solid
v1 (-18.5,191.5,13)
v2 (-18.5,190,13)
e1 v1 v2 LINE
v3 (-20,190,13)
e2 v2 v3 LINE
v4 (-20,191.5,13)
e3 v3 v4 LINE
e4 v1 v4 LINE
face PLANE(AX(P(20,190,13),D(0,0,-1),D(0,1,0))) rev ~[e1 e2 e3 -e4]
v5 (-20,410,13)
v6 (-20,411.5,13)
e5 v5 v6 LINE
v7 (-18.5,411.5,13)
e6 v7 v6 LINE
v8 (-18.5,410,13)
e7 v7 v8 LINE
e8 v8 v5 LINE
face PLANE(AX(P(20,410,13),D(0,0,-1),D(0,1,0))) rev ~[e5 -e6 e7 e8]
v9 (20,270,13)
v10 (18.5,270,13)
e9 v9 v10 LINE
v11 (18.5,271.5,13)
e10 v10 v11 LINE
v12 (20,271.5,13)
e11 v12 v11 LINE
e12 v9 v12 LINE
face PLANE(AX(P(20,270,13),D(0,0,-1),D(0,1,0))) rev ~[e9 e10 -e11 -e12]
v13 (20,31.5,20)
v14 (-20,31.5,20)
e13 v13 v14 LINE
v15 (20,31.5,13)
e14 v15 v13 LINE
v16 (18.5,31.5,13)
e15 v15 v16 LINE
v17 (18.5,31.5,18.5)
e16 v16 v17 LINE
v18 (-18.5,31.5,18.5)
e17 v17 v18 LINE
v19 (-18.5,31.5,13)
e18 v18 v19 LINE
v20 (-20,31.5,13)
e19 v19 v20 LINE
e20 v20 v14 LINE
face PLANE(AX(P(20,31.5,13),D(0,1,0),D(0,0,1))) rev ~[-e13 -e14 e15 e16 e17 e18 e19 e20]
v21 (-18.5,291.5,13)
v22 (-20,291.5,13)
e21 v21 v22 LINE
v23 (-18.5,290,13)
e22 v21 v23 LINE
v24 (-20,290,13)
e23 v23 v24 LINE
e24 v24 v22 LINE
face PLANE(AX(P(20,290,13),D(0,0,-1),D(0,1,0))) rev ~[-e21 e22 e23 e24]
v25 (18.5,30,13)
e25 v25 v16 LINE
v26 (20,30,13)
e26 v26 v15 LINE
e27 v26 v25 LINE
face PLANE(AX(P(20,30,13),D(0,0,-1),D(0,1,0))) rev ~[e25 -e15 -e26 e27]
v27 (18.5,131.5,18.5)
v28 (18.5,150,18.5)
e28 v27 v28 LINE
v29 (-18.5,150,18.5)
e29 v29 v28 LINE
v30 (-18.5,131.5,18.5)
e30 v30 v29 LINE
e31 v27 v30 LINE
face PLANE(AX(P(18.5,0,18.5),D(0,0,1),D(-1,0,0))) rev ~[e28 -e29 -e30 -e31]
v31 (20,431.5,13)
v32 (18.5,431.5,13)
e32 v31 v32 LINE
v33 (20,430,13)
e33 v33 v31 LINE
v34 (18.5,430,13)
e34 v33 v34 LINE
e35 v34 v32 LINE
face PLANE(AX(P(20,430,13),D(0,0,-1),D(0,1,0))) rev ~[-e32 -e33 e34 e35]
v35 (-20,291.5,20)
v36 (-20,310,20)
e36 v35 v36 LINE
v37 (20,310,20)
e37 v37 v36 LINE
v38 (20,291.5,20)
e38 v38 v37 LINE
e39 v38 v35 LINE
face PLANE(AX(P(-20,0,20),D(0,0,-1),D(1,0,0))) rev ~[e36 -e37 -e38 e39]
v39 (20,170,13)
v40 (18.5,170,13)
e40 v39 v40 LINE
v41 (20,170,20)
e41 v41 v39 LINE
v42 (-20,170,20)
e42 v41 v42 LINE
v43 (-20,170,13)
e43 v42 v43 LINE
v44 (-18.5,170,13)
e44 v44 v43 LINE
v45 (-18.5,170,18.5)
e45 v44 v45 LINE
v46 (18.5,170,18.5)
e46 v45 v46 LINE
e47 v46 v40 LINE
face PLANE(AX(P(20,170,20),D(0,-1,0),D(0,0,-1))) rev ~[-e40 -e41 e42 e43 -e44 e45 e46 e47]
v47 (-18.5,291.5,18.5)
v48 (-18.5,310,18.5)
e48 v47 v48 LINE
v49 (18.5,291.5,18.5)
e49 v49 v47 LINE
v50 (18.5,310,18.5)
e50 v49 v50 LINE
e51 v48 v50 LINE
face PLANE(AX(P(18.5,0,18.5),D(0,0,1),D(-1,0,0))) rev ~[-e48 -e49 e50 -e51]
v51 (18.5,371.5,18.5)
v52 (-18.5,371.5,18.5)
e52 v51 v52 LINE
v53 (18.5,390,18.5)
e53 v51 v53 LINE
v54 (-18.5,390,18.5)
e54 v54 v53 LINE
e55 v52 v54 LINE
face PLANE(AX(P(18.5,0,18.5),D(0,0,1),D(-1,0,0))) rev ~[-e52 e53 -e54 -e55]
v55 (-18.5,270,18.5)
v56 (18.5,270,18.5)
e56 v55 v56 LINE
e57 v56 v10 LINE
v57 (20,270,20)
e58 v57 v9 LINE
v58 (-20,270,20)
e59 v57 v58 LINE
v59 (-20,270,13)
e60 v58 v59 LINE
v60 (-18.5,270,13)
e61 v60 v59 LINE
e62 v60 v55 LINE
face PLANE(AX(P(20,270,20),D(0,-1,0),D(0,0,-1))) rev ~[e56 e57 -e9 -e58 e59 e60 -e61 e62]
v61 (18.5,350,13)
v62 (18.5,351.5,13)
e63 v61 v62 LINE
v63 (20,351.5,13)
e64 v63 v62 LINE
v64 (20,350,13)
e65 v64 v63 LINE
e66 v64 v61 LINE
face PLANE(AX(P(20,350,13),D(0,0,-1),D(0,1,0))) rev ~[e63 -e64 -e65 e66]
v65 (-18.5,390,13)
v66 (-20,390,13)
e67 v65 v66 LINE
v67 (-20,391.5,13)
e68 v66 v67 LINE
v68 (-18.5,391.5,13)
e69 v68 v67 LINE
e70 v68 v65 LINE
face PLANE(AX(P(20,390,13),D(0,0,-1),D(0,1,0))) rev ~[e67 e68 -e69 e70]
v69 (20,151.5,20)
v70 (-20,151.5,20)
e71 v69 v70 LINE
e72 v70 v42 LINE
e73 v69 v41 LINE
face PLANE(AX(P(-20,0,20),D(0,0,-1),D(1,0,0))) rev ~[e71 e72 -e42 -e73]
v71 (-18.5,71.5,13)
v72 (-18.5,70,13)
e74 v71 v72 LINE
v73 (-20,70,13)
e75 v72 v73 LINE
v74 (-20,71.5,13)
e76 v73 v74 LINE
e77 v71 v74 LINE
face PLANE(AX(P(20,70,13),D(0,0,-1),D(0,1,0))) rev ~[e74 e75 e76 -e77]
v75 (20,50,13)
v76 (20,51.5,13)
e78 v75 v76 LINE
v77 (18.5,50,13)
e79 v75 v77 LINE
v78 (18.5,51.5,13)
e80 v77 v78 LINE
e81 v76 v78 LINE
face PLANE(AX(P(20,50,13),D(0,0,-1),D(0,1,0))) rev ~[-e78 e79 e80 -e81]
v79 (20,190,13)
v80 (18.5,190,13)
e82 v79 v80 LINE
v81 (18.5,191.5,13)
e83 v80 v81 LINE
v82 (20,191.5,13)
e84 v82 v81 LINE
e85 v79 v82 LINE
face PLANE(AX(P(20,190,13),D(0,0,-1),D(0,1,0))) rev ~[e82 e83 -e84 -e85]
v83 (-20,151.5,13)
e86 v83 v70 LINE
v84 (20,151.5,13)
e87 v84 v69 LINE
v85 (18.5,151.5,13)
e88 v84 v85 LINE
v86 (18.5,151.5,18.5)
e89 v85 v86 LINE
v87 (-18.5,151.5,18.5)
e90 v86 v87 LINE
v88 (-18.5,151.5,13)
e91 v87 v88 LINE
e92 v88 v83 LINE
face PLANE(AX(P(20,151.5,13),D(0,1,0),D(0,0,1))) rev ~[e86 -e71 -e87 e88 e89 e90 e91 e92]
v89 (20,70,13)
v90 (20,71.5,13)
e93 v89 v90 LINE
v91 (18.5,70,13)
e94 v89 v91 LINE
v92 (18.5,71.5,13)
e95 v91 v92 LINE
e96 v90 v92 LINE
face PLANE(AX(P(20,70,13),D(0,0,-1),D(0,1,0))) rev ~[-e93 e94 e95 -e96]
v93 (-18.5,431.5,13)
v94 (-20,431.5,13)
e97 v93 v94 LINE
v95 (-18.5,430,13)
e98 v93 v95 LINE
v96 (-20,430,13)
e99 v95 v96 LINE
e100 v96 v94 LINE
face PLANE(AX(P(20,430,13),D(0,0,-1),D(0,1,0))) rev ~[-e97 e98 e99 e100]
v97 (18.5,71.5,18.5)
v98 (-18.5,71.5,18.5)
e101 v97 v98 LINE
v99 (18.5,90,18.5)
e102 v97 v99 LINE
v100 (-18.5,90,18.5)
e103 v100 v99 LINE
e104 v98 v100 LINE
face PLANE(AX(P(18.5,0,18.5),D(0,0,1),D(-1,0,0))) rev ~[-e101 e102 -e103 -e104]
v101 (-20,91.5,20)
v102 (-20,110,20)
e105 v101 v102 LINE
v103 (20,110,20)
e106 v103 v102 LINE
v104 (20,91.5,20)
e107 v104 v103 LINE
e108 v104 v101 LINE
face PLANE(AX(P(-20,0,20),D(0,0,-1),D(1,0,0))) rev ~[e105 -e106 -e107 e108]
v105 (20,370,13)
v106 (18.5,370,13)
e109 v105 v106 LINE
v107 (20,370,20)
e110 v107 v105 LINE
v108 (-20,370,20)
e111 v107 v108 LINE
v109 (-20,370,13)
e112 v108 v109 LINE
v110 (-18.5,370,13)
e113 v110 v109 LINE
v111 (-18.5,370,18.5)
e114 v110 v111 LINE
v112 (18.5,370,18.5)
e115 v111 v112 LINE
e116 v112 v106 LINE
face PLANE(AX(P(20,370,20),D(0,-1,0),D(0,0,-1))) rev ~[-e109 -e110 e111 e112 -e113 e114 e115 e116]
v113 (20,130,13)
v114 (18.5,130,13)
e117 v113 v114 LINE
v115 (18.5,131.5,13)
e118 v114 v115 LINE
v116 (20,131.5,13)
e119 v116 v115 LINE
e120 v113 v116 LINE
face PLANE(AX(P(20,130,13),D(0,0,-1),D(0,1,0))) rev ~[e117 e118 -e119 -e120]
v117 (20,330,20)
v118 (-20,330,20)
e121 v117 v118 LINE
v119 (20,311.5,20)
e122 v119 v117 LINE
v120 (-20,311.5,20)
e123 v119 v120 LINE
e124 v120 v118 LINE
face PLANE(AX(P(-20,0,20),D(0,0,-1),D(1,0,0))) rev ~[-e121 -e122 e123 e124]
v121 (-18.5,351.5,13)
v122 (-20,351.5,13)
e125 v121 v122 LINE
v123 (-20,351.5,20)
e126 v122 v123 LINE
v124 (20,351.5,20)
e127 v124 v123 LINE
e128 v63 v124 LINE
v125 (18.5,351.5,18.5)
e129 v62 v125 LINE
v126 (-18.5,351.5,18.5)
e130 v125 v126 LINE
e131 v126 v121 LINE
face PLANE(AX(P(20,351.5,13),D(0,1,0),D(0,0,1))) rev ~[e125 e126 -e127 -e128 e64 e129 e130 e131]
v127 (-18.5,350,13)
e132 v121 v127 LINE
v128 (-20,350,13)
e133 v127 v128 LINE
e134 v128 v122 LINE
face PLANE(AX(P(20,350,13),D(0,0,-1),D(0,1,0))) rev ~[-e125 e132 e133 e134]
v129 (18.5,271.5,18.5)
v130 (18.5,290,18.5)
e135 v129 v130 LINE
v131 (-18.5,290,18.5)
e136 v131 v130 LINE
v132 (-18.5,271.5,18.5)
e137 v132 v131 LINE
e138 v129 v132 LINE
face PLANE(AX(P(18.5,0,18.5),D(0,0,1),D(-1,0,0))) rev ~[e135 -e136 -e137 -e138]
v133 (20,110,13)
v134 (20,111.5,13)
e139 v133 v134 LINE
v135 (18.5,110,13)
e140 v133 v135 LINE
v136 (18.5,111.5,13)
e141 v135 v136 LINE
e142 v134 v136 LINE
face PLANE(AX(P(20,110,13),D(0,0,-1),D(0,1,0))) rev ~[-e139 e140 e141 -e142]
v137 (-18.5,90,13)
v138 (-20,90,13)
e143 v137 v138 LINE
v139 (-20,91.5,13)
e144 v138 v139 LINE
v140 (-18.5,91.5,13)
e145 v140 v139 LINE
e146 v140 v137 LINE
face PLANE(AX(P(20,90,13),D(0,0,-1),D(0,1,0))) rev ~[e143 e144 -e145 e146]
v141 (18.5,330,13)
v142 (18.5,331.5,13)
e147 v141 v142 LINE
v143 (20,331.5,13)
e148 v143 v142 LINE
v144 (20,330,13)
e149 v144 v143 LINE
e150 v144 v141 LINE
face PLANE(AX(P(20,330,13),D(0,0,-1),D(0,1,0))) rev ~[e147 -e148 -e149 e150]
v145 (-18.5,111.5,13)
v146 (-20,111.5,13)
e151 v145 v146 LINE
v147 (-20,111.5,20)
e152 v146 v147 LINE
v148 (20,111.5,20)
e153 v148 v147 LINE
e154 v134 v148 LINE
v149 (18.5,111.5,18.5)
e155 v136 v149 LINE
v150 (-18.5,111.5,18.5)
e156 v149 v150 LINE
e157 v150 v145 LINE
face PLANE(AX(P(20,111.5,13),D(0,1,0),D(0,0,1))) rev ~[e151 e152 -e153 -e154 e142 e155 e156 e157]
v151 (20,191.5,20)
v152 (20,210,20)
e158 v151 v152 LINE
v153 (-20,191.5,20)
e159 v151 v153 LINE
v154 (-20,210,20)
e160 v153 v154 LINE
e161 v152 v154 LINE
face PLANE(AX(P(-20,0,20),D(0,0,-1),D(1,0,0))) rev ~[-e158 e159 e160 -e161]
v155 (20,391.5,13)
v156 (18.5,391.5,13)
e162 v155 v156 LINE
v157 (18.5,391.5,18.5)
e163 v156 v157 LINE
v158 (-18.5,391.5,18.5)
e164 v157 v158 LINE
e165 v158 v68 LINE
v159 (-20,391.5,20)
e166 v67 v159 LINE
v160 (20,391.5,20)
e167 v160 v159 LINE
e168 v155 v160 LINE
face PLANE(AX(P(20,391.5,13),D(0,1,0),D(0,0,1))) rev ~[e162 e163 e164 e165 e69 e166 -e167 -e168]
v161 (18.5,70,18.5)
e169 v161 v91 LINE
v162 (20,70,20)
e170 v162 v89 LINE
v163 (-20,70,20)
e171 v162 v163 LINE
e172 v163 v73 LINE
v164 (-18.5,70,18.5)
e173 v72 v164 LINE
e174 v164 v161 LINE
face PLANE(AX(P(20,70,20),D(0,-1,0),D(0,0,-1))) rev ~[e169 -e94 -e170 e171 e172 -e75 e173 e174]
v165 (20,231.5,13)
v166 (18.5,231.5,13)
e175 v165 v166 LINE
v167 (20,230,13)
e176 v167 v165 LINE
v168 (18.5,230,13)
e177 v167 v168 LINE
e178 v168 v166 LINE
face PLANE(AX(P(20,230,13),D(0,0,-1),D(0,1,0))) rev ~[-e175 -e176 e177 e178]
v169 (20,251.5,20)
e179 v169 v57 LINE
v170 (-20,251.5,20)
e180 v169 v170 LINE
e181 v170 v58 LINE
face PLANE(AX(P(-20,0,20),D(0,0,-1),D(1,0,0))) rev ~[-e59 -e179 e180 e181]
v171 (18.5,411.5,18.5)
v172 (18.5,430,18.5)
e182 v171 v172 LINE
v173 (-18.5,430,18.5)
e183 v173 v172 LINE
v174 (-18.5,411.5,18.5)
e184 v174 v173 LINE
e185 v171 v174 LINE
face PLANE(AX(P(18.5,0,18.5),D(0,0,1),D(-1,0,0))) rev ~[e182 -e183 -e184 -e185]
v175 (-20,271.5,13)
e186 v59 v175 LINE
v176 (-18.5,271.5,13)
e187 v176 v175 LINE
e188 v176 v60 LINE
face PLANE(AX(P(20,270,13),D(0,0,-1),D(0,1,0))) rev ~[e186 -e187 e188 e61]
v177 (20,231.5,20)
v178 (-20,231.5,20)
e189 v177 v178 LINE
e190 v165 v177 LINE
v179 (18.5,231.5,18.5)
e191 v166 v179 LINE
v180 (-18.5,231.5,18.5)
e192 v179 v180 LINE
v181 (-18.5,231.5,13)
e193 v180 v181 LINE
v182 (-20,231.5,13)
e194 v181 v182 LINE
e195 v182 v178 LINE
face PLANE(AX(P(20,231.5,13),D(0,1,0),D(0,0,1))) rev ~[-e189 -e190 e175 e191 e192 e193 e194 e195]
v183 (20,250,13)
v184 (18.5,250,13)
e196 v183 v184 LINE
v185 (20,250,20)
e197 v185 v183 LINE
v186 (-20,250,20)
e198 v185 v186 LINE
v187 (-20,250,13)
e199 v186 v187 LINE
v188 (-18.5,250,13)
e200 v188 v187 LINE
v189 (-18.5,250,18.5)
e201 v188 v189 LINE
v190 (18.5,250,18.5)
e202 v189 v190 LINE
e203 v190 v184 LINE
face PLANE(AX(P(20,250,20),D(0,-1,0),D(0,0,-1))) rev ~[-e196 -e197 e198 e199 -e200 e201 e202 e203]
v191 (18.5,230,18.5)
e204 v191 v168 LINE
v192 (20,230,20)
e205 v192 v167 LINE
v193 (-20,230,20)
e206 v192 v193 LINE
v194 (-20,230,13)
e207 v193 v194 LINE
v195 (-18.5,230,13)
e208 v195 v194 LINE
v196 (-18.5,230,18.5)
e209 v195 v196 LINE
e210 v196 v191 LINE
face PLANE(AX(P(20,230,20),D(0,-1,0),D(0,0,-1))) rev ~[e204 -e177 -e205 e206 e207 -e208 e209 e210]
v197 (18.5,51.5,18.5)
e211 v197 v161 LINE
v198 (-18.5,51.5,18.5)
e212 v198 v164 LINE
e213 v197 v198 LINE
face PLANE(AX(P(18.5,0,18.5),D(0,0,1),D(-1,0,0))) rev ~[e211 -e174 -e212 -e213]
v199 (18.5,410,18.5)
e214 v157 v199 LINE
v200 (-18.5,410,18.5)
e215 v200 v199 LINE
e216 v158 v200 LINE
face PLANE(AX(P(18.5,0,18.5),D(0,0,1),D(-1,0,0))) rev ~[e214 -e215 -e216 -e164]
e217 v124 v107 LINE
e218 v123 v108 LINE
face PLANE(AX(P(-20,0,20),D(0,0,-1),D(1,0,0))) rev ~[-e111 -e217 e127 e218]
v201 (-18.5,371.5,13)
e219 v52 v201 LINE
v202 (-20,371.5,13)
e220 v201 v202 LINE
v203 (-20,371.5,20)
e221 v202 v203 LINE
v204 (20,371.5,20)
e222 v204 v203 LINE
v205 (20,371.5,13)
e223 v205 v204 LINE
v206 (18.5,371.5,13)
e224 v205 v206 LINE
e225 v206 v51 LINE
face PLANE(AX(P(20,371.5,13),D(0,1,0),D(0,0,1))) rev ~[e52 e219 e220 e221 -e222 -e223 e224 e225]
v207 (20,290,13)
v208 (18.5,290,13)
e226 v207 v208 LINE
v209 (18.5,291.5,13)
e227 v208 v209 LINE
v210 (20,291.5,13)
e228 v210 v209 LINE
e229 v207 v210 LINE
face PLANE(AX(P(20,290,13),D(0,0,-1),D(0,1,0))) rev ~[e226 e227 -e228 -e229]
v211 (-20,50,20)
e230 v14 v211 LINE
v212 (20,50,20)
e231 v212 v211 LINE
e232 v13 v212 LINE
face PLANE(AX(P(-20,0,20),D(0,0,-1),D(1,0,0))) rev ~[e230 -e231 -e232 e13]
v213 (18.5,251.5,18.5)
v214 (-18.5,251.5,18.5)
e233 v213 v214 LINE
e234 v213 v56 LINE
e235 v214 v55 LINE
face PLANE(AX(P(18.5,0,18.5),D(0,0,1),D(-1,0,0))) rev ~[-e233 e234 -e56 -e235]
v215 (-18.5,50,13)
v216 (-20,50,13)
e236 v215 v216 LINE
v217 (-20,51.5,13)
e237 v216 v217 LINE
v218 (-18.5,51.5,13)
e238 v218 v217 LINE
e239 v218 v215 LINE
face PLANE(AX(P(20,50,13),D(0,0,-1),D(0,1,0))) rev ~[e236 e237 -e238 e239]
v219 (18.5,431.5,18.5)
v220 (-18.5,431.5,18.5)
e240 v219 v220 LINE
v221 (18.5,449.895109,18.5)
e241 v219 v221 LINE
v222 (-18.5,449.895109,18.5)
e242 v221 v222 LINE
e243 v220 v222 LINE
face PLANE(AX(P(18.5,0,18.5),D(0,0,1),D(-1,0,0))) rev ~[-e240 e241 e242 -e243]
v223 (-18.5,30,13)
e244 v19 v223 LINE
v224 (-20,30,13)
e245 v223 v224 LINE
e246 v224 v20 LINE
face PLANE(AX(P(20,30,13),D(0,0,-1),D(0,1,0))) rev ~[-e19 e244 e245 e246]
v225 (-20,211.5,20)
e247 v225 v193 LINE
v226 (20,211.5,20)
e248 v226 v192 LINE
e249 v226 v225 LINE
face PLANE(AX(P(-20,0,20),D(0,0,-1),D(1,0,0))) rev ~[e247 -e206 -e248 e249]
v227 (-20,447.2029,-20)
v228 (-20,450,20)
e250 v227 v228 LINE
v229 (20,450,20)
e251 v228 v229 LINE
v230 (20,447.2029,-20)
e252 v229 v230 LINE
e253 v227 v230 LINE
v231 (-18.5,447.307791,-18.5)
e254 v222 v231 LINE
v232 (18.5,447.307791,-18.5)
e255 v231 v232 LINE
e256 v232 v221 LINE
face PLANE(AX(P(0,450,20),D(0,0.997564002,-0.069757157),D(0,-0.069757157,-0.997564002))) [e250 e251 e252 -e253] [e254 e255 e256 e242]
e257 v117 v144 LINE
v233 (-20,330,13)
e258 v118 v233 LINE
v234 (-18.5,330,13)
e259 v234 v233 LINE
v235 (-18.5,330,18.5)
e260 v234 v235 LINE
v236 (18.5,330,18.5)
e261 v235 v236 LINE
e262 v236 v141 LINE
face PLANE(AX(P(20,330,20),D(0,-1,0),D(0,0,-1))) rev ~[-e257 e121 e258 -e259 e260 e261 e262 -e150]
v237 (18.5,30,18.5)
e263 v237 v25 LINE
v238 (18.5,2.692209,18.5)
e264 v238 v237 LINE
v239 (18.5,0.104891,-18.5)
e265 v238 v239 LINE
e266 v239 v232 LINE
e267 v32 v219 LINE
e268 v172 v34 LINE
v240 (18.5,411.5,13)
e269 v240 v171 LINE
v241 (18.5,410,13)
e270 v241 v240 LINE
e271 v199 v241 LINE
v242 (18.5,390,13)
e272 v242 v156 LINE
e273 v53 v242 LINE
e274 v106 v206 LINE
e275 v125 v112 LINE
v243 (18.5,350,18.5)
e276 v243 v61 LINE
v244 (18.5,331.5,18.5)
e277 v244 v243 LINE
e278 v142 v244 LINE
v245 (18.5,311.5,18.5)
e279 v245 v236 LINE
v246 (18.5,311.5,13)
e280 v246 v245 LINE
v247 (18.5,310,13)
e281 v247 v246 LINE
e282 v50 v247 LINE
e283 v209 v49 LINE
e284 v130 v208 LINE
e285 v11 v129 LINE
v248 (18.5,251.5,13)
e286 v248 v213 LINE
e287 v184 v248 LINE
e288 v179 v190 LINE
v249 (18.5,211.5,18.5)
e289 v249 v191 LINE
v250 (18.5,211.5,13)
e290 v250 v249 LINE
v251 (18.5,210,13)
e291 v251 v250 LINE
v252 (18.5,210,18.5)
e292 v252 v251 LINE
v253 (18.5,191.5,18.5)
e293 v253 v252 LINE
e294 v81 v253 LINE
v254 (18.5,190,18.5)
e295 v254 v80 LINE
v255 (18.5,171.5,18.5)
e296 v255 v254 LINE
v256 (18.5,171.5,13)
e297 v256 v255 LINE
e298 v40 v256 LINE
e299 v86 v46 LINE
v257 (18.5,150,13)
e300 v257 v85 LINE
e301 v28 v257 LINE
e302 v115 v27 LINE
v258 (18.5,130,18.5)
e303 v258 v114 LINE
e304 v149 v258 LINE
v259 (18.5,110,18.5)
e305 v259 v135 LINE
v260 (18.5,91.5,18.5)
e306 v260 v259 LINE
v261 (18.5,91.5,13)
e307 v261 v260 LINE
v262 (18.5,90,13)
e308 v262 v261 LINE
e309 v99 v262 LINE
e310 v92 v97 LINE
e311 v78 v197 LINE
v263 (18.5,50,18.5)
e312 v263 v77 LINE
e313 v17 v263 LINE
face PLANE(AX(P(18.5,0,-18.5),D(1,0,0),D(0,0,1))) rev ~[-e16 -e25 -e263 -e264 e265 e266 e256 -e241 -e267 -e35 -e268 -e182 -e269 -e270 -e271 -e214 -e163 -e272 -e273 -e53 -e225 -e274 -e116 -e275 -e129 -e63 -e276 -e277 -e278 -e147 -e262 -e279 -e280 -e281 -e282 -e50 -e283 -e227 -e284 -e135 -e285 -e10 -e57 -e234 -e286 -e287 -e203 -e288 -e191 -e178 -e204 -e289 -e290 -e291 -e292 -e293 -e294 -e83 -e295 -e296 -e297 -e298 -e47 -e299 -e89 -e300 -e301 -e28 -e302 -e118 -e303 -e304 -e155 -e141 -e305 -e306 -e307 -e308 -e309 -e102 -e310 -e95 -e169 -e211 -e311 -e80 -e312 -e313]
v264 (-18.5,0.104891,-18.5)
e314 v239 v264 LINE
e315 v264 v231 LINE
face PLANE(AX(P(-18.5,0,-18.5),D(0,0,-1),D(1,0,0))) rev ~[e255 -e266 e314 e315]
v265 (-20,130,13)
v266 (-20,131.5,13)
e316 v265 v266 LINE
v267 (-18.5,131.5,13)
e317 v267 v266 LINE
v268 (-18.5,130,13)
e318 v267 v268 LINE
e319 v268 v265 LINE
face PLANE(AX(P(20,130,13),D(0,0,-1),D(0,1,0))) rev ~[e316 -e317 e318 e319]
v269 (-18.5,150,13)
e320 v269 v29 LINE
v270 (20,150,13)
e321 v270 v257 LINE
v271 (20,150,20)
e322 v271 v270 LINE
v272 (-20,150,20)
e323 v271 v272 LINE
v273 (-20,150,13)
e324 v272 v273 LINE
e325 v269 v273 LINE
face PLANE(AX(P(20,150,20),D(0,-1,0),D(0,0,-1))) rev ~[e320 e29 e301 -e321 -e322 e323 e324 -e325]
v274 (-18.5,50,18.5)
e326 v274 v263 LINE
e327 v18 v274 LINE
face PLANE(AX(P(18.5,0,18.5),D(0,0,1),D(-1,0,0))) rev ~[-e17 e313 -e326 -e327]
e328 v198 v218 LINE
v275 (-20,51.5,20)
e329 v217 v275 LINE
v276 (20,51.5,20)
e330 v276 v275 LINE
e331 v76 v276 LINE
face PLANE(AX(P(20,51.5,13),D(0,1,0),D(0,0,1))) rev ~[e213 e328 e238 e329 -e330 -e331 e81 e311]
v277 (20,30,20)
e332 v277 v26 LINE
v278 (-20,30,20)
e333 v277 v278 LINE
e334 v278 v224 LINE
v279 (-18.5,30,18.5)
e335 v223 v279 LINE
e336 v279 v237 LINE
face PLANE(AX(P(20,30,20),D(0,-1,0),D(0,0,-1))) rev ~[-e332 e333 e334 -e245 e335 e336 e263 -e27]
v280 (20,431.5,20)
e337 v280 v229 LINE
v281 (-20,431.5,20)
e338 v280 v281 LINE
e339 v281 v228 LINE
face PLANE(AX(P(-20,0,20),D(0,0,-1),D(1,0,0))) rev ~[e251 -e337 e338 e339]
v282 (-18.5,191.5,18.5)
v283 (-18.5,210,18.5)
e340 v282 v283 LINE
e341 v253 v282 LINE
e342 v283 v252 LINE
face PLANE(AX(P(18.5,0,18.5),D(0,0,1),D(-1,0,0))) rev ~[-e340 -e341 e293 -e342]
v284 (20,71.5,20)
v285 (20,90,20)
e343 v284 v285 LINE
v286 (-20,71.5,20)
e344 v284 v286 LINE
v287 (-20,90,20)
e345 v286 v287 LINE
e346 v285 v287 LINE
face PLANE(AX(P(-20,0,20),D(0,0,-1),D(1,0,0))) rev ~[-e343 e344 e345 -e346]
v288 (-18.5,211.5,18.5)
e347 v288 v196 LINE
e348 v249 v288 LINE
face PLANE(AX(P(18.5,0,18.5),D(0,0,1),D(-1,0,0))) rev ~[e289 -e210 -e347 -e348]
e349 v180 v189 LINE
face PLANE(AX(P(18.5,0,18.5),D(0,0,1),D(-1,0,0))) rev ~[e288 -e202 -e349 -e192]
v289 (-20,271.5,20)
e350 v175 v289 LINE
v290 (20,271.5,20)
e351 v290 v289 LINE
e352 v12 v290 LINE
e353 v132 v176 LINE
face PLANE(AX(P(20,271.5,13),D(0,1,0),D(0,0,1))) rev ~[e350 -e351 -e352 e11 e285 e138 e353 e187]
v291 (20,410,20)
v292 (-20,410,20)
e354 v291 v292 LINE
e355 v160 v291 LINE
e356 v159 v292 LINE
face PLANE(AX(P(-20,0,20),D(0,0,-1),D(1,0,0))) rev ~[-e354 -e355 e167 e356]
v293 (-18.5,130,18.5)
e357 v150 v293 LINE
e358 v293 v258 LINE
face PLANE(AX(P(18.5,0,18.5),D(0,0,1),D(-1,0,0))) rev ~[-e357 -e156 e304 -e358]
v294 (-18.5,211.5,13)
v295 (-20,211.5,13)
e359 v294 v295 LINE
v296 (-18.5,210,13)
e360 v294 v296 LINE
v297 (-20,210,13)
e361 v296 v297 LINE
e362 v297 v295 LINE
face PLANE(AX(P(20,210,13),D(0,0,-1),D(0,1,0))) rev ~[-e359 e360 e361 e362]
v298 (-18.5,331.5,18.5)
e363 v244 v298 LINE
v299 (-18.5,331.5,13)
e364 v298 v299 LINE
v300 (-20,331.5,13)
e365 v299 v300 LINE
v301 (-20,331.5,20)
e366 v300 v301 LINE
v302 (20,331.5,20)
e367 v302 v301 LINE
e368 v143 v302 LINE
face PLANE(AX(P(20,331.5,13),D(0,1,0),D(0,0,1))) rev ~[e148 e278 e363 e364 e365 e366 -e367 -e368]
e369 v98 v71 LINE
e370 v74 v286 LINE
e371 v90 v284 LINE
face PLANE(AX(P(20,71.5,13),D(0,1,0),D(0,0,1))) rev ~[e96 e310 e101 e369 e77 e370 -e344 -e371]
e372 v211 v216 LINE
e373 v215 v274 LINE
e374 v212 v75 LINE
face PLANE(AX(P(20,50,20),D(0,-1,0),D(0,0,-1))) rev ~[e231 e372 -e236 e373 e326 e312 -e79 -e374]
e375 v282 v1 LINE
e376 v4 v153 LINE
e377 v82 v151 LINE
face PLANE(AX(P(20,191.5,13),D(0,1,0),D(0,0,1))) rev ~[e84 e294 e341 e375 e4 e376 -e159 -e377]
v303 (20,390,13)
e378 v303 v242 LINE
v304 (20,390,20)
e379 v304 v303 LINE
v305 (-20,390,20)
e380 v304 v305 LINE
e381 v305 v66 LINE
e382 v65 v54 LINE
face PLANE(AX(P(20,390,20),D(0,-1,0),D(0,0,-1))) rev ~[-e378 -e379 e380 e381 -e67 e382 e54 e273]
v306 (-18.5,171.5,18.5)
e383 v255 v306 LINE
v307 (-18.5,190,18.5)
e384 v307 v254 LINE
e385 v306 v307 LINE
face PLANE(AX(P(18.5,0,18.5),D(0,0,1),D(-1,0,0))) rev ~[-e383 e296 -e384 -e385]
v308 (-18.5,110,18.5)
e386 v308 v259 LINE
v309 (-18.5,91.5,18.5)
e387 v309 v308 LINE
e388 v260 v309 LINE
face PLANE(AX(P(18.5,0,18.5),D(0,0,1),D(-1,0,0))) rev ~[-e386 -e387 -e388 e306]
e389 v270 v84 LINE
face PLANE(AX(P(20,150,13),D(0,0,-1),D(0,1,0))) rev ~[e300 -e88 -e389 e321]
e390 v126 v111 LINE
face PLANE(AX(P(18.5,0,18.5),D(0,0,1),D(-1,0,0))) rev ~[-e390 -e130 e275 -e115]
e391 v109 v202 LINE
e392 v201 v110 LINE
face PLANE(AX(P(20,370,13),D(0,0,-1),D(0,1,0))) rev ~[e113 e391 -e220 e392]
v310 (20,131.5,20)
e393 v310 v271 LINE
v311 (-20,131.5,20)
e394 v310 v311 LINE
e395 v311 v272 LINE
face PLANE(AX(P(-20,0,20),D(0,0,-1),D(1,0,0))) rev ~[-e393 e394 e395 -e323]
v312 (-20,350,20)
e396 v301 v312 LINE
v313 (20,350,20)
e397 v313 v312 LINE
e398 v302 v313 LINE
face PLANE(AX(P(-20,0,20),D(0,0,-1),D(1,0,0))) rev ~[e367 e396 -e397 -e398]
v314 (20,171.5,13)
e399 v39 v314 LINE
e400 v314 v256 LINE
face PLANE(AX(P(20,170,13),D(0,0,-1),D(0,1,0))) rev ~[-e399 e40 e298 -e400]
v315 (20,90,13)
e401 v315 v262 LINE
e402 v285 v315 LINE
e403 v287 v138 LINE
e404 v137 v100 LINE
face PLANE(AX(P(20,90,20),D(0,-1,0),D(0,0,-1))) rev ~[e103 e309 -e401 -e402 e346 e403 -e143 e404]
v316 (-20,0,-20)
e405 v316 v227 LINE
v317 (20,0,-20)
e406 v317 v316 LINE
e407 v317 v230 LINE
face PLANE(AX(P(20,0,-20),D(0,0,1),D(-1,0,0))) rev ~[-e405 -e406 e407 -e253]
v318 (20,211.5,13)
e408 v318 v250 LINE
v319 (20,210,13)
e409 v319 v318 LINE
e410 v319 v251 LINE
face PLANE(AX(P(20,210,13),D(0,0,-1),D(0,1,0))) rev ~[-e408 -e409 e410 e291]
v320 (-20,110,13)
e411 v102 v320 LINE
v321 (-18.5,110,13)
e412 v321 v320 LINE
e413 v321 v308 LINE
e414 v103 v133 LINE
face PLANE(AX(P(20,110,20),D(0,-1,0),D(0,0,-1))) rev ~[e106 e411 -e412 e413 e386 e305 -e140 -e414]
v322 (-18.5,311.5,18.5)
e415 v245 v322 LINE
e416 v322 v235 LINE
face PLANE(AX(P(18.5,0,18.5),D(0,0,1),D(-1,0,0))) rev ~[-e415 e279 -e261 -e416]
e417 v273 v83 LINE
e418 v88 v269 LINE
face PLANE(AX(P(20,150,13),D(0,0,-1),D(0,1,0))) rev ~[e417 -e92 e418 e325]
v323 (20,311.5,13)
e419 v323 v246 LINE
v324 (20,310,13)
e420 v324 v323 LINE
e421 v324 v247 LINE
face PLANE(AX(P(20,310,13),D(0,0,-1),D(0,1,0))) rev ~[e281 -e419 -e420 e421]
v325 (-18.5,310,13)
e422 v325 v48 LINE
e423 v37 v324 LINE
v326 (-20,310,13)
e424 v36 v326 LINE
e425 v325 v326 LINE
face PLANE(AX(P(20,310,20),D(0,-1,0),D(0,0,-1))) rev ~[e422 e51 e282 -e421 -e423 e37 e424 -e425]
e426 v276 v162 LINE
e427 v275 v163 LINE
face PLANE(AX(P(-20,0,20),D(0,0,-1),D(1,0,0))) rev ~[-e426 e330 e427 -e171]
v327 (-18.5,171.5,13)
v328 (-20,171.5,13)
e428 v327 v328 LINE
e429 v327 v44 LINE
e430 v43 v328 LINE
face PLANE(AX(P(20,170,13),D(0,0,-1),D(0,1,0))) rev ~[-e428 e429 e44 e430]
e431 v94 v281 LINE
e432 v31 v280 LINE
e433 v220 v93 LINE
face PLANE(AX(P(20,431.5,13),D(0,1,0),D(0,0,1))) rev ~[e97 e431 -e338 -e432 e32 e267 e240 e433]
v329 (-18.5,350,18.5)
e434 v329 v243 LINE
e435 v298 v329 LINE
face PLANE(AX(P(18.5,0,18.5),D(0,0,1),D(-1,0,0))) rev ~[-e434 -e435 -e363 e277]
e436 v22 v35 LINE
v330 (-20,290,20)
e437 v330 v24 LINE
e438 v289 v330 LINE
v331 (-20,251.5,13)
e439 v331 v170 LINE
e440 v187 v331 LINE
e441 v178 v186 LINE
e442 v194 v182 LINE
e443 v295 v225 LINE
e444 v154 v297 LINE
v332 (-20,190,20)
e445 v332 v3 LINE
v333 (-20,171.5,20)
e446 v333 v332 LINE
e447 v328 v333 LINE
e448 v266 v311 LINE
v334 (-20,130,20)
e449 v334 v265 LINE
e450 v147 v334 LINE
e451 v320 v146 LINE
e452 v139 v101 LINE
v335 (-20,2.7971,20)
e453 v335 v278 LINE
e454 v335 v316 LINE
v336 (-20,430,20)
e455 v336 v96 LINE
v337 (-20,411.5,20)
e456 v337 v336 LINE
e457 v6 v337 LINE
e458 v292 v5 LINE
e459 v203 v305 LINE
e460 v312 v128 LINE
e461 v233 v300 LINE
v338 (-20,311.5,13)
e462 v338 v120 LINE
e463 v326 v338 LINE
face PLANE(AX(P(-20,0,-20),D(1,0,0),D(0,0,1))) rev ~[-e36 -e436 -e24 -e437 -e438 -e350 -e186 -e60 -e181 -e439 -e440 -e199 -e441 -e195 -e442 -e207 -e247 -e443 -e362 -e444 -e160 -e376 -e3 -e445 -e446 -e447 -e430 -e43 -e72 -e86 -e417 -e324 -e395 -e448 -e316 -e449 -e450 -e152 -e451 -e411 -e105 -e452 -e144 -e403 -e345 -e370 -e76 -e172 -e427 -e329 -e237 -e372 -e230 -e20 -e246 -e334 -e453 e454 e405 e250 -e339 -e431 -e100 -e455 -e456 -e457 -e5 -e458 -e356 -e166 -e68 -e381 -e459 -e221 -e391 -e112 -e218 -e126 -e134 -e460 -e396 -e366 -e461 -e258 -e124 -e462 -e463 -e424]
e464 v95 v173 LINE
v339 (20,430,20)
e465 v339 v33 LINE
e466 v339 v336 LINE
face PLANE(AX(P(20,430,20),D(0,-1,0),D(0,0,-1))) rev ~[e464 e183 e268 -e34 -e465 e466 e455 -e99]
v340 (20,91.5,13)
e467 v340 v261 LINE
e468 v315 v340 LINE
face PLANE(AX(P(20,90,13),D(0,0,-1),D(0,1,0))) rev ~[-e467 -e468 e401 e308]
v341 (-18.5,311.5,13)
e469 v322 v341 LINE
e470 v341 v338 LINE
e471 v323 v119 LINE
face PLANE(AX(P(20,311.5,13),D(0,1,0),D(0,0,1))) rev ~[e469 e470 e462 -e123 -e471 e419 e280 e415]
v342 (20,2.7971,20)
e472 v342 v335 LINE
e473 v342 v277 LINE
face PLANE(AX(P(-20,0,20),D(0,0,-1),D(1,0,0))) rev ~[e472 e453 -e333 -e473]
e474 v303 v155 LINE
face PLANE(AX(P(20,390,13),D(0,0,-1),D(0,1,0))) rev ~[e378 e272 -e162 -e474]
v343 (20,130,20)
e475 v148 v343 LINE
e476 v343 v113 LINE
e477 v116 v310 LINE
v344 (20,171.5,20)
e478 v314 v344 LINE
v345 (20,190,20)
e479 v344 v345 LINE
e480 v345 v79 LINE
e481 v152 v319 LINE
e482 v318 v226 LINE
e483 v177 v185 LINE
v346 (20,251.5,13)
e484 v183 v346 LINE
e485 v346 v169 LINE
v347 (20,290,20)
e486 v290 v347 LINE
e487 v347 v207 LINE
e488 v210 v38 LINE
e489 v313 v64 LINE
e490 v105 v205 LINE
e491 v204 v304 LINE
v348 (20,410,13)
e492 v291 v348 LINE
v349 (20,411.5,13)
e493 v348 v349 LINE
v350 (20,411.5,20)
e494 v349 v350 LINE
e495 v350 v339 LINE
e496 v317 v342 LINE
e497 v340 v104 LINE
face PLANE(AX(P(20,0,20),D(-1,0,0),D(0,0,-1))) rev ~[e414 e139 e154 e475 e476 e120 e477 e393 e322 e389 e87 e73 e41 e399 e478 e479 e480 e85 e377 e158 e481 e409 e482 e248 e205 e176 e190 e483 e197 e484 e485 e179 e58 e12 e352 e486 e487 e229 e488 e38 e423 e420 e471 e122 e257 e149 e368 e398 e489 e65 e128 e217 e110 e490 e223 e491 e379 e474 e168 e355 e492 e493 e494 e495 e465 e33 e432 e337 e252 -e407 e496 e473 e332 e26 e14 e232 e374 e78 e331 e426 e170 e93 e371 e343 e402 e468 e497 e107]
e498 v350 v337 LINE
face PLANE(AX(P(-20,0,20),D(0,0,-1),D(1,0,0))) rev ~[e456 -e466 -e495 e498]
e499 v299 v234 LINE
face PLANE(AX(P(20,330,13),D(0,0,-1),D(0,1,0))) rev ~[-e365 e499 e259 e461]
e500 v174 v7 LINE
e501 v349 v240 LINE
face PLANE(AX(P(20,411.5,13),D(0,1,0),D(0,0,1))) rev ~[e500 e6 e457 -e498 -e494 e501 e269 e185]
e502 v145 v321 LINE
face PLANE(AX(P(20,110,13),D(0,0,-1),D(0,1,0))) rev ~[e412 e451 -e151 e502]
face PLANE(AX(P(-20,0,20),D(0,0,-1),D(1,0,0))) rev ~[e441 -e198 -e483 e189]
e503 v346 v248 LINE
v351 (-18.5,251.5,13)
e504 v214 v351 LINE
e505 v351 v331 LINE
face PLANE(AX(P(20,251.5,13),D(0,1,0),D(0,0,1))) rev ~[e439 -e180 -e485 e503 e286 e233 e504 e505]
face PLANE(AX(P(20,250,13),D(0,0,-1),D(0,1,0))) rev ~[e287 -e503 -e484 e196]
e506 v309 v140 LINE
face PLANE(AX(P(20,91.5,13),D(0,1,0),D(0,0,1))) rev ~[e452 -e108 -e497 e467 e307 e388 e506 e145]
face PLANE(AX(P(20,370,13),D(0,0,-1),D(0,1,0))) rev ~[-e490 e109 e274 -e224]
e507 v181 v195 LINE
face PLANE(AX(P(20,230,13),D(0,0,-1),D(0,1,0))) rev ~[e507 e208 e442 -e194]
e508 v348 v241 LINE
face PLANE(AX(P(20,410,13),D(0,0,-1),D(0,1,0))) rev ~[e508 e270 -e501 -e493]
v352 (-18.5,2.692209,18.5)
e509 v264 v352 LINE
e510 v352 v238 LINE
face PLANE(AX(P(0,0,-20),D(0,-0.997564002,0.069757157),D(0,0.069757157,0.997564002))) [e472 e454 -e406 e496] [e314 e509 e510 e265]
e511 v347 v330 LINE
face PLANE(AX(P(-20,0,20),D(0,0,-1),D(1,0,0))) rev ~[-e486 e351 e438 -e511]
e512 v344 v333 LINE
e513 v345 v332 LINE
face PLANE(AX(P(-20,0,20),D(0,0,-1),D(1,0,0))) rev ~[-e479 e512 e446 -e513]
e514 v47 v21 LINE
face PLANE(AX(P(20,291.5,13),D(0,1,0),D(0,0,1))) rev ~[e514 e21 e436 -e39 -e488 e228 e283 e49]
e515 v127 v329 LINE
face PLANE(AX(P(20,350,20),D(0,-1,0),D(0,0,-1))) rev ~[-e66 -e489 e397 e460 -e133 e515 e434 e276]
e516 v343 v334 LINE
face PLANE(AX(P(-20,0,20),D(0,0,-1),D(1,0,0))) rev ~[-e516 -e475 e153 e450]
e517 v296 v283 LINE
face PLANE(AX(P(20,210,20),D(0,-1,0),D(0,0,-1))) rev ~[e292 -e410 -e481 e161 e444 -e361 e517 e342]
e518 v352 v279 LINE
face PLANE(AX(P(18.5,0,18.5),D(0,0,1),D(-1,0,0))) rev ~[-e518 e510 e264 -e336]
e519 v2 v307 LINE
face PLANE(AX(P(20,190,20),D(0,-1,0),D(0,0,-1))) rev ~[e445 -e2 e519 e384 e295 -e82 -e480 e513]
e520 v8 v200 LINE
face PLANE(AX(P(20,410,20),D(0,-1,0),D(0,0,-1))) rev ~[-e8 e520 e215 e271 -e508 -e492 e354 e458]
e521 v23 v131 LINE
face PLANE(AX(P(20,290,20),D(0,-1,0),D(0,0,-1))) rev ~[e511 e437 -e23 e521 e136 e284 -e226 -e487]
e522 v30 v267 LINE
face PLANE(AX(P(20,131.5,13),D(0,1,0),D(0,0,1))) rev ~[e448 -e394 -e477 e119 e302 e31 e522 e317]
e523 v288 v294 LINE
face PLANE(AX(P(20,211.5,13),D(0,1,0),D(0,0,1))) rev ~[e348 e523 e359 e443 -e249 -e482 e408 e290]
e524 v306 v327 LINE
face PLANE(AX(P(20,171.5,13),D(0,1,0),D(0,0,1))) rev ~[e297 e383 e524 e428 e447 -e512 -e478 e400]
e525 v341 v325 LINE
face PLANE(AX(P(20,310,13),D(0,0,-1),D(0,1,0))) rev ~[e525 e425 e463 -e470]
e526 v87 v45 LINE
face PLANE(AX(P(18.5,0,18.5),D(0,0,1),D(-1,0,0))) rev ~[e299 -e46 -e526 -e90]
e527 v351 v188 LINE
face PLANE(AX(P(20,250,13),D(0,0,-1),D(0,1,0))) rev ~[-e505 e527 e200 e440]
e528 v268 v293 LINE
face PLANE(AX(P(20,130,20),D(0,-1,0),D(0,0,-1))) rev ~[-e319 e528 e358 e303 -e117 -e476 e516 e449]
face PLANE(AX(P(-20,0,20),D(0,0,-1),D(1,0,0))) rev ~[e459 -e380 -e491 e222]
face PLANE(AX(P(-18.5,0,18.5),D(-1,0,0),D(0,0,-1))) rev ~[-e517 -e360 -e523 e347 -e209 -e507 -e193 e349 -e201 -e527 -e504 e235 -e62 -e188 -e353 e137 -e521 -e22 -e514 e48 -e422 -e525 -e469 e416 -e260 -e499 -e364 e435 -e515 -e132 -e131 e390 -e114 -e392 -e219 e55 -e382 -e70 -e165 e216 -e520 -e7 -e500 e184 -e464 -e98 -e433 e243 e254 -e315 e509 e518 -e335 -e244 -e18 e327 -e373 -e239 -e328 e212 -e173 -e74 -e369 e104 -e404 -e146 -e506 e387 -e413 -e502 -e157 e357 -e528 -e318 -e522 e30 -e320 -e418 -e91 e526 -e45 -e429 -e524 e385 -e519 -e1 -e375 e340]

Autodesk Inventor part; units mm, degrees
ref_plane "YZ Plane" through (0, 0, 0) normal (1, 0, 0) x (0, 1, 0)
ref_plane "XZ Plane" through (0, 0, 0) normal (0, 1, 0) x (-1, 0, 0)
ref_plane "XY Plane" through (0, 0, 0) normal (0, 0, 1) x (1, 0, 0)
sketch "Sketch1" plane through (0, 0, 0) normal (0, 1, 0) x (-1, 0, 0)
  line L0 (20, 20) -> (-20, 20)
  line L1 (-20, 20) -> (-20, -20)
  line L2 (-20, -20) -> (20, -20)
  line L3 (20, -20) -> (20, 20)
  line L4 (20, 20) -> (-20, -20) construction
  line L5 (-20, 20) -> (20, -20) construction
  line L6 (-18.5, 18.5) -> (18.5, 18.5)
  line L7 (18.5, 18.5) -> (18.5, -18.5)
  line L8 (18.5, -18.5) -> (-18.5, -18.5)
  line L9 (-18.5, -18.5) -> (-18.5, 18.5)
  point P0 (0, 0)
  dimension "d7" = 40
  dimension "d8" = 40
  dimension "d9" = 1.5
extrude "Extrusion1" add sketch "Sketch1" along normal blind 450
sketch "Sketch2" plane through (20, 0, 20) normal (1, 0, 0) x (0, 0, -1)
  line L0 (0, 0) -> (0, 450) projected
  line L1 (0, 30) -> (7, 30)
  line L2 (7, 30) -> (7, 31.5)
  line L3 (7, 31.5) -> (0, 31.5)
  line L4 (0, 31.5) -> (0, 30)
  point P0 (20, 0)
  point P1 (0, 31.5)
  dimension "d10" = 7
  dimension "d11" = 1.5
  dimension "d17" = 30
extrude "Extrusion2" cut sketch "Sketch2" against normal through all
pattern_linear "Rectangular Pattern1" count 49 spacing 20 along (0, 1, 0) of "Extrusion2"
sketch "Sketch5" plane through (0, 0, 0) normal (1, 0, 0) x (0, 1, 0)
  line L0 (0, 20) -> (0, -20) projected
  line L1 (0, 20) -> (30, 20) projected
  line L2 (0, -20) -> (2.7971, 20)
  line L3 (450, -20) -> (450, 20) projected
  line L4 (450, 20) -> (447.2029, -20)
  line L5 (0, -20) -> (450, -20) projected
  point P0 (0, 0)
  dimension "d18" = 4
  dimension "d21" = 4
extrude "Extrusion3" cut sketch "Sketch5" along normal through all both and the other way through all
equation "\"d1\" = BEAM_3_lenth"
equation "\"d18\" = BEAM_3_angle"
equation "\"d21\" = d18"
equation "\"BEAM_3_lenth\" = 450"
equation "\"BEAM_3_angle\" = 4deg"
properties part number "DSB-503 beam 3" material "Stainless Steel"
